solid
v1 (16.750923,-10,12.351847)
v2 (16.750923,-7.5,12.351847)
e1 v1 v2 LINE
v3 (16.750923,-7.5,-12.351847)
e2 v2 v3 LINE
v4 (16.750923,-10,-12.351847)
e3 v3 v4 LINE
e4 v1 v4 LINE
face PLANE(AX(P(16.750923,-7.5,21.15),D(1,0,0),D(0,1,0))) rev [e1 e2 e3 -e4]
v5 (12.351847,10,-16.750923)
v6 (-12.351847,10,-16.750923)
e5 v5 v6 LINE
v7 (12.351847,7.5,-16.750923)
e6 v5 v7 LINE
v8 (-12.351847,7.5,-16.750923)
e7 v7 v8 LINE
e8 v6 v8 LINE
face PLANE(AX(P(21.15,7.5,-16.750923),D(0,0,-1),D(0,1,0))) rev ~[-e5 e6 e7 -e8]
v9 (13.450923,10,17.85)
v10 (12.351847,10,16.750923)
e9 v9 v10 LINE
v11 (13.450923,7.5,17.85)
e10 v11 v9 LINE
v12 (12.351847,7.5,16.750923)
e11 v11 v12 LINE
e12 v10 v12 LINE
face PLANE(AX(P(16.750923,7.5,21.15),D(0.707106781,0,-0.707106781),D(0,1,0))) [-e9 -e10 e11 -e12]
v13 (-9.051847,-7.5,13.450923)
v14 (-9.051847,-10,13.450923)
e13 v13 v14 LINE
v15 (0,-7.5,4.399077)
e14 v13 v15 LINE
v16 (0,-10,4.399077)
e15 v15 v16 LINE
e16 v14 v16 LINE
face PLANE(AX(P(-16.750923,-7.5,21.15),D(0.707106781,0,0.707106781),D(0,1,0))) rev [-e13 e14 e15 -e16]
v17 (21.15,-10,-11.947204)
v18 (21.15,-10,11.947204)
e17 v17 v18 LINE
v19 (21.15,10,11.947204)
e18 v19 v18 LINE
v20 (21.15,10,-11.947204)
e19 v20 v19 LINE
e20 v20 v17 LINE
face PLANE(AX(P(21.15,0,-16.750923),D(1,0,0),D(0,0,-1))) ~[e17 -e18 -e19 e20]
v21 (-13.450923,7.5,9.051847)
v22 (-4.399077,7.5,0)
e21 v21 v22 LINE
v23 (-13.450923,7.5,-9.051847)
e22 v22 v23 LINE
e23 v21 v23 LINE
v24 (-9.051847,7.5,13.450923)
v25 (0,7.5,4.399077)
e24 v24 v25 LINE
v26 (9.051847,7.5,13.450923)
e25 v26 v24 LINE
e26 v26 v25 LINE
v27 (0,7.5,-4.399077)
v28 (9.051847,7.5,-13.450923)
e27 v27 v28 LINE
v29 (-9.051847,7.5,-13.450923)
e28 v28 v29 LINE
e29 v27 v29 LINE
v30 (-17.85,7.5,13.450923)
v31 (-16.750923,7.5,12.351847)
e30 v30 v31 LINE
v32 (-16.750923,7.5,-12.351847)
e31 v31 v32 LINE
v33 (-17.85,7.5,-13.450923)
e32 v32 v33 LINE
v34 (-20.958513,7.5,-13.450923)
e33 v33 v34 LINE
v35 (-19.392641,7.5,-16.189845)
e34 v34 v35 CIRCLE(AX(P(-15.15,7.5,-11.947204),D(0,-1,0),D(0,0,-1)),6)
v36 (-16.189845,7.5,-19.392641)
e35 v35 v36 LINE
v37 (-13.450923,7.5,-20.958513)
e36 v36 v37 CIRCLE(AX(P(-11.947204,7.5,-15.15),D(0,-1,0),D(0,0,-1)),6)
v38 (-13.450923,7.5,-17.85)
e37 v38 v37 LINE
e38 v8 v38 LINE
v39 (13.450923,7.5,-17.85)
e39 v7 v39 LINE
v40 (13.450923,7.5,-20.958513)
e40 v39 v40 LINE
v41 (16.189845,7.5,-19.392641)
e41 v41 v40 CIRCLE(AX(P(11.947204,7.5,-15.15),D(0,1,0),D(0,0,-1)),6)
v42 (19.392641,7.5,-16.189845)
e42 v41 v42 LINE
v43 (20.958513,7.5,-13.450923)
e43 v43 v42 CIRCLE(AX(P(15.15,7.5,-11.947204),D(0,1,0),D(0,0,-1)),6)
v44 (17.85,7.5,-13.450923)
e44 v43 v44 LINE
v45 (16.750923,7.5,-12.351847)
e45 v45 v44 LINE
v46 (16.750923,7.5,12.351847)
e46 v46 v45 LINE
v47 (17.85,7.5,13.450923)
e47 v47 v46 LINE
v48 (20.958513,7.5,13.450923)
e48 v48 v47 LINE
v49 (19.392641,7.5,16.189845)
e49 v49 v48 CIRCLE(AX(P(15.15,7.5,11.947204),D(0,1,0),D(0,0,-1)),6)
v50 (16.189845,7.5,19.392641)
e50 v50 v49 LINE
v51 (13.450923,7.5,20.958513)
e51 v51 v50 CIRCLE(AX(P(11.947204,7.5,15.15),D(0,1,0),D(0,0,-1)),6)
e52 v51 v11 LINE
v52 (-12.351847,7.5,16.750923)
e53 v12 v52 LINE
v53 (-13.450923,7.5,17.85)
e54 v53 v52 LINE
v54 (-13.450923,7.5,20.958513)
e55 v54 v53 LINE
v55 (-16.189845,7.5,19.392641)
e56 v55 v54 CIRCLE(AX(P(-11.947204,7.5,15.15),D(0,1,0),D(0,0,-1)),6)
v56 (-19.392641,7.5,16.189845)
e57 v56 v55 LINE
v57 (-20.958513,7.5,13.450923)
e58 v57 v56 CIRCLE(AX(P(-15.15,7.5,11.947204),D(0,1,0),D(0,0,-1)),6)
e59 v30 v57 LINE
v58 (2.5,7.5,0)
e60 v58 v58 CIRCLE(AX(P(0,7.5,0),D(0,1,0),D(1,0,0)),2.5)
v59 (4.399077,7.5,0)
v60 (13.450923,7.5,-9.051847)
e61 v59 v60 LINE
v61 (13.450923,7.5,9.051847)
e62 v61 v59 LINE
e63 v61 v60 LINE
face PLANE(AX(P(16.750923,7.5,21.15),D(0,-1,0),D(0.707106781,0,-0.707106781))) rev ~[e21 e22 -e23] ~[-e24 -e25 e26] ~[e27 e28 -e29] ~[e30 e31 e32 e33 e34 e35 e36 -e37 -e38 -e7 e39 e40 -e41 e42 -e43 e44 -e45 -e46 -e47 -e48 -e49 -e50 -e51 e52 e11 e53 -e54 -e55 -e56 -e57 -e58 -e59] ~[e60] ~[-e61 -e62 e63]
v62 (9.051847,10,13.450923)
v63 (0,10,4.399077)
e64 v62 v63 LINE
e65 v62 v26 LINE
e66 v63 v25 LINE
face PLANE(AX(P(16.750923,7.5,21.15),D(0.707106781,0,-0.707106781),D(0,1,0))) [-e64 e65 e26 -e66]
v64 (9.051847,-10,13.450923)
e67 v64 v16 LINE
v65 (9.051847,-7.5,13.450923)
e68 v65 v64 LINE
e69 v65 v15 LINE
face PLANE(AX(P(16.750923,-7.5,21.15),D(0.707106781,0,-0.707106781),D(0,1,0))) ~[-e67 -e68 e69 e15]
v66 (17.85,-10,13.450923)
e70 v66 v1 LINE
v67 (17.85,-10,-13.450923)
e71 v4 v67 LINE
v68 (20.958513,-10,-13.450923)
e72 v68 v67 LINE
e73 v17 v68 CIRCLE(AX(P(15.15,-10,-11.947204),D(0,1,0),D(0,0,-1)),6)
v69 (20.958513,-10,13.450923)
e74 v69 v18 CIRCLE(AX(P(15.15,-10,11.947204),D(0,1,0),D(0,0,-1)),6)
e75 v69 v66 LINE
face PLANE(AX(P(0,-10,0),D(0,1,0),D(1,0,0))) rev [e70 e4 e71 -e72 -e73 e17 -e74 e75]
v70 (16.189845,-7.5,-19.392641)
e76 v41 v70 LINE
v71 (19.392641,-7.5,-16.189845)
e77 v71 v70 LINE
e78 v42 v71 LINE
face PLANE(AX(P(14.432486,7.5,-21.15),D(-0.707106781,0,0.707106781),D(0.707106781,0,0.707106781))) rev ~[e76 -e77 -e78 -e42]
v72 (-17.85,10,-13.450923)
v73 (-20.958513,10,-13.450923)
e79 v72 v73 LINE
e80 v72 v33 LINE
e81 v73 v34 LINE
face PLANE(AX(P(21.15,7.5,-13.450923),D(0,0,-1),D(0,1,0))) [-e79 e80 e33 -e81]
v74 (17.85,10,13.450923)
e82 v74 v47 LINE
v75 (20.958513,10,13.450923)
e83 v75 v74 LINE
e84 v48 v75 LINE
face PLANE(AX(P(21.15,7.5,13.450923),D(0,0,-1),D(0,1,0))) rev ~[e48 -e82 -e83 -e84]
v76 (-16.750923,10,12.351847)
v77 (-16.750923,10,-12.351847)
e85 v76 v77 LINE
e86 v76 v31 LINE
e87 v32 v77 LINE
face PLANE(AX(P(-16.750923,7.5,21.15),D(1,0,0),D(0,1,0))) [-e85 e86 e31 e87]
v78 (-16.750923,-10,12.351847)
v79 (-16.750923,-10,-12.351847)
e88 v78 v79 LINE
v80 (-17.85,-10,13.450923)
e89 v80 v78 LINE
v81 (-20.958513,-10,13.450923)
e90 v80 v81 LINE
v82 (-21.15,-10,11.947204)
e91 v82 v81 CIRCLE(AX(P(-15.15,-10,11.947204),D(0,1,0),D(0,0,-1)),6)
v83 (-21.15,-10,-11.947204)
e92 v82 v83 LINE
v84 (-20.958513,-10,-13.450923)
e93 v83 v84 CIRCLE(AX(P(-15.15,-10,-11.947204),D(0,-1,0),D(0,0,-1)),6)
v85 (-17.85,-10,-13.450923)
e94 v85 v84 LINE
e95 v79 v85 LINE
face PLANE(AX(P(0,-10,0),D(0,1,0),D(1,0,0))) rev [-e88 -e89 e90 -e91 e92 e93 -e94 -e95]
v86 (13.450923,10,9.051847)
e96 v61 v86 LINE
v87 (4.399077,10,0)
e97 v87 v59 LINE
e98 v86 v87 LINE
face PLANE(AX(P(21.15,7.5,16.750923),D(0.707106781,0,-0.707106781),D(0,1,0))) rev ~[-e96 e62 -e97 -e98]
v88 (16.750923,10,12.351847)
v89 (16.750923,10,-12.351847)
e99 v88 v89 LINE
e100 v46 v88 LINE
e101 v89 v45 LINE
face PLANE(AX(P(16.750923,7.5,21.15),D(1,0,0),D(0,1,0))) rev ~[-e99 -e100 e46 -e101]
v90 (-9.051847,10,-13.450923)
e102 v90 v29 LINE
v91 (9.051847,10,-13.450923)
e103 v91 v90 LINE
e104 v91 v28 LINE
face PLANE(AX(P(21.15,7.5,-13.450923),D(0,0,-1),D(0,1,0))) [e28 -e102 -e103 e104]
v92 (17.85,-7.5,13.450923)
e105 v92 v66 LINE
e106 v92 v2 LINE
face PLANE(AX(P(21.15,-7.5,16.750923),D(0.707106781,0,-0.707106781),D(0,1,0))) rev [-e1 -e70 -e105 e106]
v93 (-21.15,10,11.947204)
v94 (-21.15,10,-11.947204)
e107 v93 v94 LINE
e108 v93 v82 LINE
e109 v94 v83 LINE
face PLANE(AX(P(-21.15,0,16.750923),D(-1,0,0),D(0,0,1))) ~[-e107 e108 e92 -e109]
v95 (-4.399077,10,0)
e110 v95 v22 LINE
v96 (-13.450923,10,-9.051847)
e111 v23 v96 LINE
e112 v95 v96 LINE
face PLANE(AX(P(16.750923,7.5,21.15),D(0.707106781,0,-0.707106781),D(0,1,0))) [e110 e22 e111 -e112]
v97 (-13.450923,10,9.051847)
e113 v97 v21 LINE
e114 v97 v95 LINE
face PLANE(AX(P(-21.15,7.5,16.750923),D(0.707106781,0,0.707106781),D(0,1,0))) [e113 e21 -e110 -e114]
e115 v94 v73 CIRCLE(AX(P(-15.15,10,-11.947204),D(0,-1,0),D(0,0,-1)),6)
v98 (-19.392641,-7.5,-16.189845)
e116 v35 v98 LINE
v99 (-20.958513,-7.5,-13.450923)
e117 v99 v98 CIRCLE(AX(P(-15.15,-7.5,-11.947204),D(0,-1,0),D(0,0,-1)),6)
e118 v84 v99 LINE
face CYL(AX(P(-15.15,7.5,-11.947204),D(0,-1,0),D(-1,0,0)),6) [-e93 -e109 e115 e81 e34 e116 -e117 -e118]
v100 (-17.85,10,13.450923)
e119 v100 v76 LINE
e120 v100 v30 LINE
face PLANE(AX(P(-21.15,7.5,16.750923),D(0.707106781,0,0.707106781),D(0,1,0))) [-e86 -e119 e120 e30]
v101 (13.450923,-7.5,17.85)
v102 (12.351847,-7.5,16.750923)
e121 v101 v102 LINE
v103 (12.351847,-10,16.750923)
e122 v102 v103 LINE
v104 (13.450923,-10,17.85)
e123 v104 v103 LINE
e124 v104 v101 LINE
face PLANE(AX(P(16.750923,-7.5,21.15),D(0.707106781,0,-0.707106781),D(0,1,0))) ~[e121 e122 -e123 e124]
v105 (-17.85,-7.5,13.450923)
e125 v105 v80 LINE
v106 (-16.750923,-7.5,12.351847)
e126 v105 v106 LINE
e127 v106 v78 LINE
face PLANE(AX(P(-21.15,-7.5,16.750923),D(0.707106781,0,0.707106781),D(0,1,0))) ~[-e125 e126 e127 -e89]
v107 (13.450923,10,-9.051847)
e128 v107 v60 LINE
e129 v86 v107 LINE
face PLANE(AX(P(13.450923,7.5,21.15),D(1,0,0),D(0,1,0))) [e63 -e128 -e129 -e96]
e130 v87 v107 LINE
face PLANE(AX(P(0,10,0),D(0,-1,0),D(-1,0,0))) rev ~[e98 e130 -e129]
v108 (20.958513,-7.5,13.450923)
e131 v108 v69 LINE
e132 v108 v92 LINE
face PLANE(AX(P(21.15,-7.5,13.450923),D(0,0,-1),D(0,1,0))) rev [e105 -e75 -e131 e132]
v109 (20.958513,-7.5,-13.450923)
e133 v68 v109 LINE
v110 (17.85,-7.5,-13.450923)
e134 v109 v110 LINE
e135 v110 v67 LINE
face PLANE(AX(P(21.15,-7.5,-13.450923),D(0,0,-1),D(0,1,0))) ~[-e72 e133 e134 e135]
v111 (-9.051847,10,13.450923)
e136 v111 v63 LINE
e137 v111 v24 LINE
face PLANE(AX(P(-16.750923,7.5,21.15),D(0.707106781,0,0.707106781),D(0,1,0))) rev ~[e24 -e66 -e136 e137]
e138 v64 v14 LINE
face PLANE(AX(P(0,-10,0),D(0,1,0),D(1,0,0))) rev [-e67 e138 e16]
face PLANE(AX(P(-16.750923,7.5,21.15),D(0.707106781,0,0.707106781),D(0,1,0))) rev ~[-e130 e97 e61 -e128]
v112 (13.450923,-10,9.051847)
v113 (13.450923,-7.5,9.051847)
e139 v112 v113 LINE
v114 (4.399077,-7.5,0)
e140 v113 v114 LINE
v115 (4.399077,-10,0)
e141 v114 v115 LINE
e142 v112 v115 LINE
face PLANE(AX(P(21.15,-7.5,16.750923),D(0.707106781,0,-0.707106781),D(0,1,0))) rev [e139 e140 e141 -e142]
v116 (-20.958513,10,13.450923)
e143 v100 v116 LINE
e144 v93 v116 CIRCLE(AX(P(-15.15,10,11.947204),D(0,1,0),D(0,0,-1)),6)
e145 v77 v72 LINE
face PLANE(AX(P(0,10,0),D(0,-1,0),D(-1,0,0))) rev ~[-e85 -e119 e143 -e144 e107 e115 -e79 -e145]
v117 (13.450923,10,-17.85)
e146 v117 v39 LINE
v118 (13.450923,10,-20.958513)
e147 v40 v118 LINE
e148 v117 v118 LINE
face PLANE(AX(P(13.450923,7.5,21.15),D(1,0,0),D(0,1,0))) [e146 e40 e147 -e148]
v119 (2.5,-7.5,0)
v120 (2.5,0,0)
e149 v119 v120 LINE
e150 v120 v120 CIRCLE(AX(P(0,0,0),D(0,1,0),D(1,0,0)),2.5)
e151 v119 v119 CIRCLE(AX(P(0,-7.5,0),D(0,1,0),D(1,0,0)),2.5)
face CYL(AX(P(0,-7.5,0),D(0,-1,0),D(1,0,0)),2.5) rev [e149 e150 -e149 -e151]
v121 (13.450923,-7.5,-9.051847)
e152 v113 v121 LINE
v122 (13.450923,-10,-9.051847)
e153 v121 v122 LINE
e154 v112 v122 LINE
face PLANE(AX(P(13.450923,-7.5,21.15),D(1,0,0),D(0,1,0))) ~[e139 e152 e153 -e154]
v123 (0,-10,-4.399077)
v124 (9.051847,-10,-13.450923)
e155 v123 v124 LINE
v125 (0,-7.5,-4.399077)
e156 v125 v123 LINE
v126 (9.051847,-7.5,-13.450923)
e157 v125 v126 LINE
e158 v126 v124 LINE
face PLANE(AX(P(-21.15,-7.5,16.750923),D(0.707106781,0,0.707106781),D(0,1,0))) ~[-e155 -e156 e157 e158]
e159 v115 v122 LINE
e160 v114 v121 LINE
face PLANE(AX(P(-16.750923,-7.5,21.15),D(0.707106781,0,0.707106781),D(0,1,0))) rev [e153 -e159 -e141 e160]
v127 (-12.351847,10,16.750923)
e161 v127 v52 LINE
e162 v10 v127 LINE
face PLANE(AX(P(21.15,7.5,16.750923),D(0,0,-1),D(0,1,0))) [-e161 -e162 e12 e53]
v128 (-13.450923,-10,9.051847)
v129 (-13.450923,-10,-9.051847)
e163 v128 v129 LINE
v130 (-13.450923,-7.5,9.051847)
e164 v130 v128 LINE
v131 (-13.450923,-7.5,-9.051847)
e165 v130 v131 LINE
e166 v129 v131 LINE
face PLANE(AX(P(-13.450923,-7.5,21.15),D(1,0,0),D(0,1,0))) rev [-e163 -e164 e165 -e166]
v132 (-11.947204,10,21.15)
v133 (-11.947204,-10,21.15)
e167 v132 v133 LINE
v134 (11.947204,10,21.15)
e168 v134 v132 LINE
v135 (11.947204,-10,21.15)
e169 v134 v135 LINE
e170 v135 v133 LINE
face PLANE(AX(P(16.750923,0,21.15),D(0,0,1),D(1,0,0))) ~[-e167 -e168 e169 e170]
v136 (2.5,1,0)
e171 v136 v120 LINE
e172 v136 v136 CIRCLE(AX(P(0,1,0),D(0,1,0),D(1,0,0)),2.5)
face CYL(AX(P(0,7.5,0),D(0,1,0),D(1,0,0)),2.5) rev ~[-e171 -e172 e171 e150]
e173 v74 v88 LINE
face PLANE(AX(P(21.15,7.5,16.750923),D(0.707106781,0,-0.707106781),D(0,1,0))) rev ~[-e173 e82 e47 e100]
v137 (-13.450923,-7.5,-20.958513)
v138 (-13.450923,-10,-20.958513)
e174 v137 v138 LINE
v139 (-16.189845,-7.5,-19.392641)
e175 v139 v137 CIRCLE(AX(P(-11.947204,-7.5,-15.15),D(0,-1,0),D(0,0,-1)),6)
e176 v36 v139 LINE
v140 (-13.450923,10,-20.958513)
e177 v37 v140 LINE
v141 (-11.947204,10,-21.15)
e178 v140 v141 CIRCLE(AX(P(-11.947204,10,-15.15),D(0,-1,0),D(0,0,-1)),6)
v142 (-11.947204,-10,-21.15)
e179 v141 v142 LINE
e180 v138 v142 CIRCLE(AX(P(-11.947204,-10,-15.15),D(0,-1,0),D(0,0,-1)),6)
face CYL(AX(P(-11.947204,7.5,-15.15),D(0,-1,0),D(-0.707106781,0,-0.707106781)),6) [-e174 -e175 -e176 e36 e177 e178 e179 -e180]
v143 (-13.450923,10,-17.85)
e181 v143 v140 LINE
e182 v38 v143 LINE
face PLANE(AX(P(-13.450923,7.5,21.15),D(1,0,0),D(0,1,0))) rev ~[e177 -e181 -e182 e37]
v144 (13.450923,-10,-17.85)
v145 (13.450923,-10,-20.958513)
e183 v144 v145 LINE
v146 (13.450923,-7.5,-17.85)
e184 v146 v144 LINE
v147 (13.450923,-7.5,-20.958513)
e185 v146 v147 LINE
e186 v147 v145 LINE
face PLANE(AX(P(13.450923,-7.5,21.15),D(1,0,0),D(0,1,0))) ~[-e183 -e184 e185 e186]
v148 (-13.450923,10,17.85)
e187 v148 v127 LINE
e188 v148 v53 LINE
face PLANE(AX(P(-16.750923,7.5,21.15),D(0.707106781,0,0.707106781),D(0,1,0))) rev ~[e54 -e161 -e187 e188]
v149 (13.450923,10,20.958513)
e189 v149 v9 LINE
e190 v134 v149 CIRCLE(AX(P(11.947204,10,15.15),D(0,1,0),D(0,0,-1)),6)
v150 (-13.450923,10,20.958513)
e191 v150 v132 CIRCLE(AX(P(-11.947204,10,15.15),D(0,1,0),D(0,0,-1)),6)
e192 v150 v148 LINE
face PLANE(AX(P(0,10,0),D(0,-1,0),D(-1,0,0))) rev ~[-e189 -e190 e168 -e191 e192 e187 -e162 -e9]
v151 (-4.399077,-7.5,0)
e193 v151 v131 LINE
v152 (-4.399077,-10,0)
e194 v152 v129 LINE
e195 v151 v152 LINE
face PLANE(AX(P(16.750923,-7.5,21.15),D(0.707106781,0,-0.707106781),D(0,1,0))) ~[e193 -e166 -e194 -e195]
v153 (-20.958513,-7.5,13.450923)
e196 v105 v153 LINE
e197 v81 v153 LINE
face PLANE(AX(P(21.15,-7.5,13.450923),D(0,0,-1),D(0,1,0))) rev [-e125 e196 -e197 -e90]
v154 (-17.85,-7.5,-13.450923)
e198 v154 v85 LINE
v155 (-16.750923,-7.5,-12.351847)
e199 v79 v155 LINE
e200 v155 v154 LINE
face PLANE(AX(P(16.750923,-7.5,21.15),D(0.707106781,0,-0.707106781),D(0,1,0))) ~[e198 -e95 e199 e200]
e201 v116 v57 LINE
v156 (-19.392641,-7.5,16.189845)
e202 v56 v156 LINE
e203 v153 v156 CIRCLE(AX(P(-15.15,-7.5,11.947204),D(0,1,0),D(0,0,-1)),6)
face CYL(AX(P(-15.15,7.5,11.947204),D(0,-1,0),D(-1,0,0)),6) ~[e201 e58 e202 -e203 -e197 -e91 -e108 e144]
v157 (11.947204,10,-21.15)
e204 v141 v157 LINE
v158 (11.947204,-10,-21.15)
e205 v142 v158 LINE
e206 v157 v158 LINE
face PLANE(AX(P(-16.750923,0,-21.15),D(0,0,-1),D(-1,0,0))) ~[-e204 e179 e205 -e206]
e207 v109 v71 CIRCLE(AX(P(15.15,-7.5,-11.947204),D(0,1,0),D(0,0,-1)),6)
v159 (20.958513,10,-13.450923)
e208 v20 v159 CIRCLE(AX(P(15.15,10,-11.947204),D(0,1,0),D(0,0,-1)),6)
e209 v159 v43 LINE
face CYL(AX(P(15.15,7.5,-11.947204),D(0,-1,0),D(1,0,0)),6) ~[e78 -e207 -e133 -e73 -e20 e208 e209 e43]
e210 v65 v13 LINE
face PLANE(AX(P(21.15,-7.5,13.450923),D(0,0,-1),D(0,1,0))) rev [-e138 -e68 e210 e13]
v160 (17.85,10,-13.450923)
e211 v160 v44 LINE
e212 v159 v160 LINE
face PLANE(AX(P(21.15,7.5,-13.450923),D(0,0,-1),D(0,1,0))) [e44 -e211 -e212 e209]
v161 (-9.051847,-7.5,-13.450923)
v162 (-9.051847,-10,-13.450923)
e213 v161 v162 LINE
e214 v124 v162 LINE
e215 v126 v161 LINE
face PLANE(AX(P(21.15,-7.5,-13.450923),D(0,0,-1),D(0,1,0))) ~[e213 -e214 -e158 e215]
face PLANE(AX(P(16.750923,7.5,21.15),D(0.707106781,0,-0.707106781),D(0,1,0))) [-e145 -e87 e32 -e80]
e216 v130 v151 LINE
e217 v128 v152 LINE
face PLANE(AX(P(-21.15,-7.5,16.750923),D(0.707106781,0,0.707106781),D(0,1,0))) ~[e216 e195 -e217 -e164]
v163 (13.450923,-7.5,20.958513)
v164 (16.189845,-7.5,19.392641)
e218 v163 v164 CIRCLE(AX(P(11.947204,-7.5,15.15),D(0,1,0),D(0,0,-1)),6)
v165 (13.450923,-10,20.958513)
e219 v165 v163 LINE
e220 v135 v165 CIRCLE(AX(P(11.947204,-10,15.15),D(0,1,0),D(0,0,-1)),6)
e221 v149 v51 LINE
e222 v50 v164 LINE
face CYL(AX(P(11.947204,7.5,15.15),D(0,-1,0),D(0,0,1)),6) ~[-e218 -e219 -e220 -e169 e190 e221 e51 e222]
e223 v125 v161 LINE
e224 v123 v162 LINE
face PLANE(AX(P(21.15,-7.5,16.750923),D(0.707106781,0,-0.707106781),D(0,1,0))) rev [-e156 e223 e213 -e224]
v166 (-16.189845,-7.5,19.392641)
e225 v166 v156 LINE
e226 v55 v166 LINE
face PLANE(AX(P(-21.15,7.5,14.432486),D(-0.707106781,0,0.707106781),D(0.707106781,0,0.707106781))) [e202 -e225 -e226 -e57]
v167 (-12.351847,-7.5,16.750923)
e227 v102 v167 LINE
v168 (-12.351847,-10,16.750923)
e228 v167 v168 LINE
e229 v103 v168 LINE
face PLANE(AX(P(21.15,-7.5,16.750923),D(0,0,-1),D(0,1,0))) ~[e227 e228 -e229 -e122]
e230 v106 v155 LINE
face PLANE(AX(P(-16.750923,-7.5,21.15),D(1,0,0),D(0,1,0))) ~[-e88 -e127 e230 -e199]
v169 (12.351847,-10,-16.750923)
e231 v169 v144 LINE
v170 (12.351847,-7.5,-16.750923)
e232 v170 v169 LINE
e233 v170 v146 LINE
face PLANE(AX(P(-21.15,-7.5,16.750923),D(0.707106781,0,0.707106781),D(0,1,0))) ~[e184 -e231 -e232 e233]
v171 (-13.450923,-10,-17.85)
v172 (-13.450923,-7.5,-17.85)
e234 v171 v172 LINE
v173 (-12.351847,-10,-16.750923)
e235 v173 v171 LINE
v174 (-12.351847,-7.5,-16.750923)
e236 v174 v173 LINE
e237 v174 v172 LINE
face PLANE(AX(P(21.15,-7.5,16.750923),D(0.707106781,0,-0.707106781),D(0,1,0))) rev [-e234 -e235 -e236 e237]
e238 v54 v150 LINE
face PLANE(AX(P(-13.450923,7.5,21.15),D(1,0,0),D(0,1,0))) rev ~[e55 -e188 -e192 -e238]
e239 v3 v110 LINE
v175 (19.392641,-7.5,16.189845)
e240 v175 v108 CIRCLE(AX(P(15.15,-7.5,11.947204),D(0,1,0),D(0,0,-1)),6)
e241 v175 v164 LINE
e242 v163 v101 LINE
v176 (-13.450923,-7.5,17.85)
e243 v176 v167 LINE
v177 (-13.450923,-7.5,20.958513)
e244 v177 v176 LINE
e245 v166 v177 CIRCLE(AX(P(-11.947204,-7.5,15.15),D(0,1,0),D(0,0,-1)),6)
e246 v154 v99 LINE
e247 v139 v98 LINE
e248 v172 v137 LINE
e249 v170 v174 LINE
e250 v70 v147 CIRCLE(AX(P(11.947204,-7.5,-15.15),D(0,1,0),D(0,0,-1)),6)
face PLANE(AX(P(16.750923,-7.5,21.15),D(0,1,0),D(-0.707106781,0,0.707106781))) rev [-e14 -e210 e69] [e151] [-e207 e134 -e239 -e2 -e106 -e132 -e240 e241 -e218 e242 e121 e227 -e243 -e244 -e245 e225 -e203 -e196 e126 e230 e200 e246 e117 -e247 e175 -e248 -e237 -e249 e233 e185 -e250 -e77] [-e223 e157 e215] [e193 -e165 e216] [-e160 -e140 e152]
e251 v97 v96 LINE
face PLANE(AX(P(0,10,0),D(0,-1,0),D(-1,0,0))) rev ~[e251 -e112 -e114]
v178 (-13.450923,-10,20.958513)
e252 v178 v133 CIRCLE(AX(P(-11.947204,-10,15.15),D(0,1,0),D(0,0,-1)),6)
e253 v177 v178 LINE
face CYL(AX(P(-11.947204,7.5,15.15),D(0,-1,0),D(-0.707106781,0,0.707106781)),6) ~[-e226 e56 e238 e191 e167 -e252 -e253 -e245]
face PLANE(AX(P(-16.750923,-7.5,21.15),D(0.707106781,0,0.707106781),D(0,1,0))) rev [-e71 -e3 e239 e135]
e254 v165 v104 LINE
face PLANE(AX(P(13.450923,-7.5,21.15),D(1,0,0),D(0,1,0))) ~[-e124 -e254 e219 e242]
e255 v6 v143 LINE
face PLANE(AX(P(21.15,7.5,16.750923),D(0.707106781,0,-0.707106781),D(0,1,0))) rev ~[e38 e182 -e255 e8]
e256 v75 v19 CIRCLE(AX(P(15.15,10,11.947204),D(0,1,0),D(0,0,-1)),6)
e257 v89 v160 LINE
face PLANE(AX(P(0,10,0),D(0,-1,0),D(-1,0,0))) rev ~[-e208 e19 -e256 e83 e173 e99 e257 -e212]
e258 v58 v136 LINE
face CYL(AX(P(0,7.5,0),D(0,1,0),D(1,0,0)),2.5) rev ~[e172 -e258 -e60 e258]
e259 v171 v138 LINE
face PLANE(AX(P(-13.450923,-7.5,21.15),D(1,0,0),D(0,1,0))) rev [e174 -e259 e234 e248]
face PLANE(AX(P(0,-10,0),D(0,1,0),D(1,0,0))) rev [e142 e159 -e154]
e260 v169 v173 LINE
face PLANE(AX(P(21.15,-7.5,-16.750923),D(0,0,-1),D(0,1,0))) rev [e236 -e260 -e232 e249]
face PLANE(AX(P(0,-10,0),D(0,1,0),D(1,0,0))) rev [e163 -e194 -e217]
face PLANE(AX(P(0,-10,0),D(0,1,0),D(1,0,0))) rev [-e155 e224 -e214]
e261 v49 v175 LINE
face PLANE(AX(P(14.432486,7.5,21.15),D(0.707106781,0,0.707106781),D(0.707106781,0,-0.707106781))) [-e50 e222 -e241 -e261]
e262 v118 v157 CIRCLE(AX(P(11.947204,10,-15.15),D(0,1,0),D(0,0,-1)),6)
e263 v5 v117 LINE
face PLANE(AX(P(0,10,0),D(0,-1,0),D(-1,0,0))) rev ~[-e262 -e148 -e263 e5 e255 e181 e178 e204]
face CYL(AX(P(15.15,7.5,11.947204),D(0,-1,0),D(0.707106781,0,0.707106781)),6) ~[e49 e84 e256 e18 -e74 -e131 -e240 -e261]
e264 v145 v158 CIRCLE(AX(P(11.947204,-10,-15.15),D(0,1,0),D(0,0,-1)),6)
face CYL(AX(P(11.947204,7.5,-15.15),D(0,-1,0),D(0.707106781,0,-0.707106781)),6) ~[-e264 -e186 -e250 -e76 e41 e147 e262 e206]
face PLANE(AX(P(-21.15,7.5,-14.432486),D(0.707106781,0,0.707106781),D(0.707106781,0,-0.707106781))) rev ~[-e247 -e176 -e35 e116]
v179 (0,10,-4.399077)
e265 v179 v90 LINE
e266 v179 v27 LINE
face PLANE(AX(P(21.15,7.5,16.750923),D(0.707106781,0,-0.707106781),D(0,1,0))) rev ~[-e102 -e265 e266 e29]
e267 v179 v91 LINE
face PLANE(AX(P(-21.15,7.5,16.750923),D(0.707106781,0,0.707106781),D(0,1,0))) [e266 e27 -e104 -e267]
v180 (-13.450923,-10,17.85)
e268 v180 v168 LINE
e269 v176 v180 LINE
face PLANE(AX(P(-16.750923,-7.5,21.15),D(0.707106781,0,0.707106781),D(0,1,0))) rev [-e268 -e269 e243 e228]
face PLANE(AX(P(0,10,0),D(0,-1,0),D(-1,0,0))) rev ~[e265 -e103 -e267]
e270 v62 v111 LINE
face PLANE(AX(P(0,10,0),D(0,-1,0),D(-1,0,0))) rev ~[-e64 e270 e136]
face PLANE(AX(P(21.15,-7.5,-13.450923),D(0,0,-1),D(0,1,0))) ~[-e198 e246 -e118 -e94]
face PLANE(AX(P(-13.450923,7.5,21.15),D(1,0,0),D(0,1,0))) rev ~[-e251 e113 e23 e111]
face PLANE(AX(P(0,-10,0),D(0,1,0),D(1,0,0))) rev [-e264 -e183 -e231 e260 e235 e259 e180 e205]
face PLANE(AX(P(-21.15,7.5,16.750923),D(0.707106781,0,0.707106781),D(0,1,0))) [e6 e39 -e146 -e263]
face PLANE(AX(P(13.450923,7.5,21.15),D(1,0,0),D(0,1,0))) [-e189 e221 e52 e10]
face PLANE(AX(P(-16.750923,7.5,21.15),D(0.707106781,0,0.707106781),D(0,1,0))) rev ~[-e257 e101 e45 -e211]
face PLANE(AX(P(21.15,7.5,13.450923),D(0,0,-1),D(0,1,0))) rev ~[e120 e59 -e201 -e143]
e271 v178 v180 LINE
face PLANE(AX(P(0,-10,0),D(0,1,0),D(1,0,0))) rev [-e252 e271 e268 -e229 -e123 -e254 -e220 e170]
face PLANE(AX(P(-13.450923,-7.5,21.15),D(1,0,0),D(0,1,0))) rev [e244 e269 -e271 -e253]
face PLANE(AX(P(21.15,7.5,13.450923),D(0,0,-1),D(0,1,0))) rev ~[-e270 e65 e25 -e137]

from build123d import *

# Parameters (mm, degrees)
BOSS_EXTRUDE1_DEPTH = 10
SKETCH18_W          = 3.3
SKETCH18_H          = 2.5
CUT_EXTRUDE10_DEPTH = 43.3
SKETCH19_W          = 3.3
SKETCH19_H          = 2.5
CUT_EXTRUDE11_DEPTH = 43.3
SKETCH20_W          = 6.221233688
SKETCH20_H          = 2.5
CUT_EXTRUDE12_DEPTH = 57.710616844
SKETCH21_W          = 6.221233688
SKETCH21_H          = 2.5
CUT_EXTRUDE13_DEPTH = 57.710616844
SKETCH22_R          = 2.5
CUT_EXTRUDE14_DEPTH = 8.5
CUT_EXTRUDE15_DEPTH = 18.5
FILLET8_R           = 6


with BuildPart() as part:
    # Sketch1 → Boss-Extrude1 (new body)
    with BuildSketch(Plane(origin=(0, 0, 0), x_dir=(1, 0, 0), z_dir=(0, 1, 0))):
        Polygon((-21.15, 16.750923472), (-16.750923472, 21.15), (16.750923472, 21.15), (21.15, 16.750923472), (21.15, -16.750923472), (16.750923472, -21.15), (-16.750923472, -21.15), (-21.15, -16.750923472), align=None)
    boss_extrude1 = extrude(amount=BOSS_EXTRUDE1_DEPTH)

    # Sketch18 → Cut-Extrude10 (cut, through all)
    with BuildSketch(Plane.XY.offset(21.15)):
        with Locations((15.100923472, 8.75)):
            Rectangle(SKETCH18_W, SKETCH18_H)
        with Locations((-15.100923472, 8.75)):
            Rectangle(SKETCH18_W, SKETCH18_H)
    cut_extrude10 = extrude(amount=-CUT_EXTRUDE10_DEPTH, mode=Mode.SUBTRACT)

    # Sketch19 → Cut-Extrude11 (cut, through all)
    with BuildSketch(Plane(origin=(21.15, 0, 0), x_dir=(0, 0, -1), z_dir=(1, 0, 0))):
        with Locations((-15.100923472, 8.75)):
            Rectangle(SKETCH19_W, SKETCH19_H)
        with Locations((15.100923472, 8.75)):
            Rectangle(SKETCH19_W, SKETCH19_H)
    cut_extrude11 = extrude(amount=-CUT_EXTRUDE11_DEPTH, mode=Mode.SUBTRACT)

    # Sketch20 → Cut-Extrude12 (cut, through all)
    with BuildSketch(Plane(origin=(18.950461736, 0, 18.950461736), x_dir=(0.707106781, 0, -0.707106781), z_dir=(0.707106781, 0, 0.707106781))):
        with Locations((0, 8.75)):
            Rectangle(SKETCH20_W, SKETCH20_H)
    cut_extrude12 = extrude(amount=-CUT_EXTRUDE12_DEPTH, mode=Mode.SUBTRACT)

    # Sketch21 → Cut-Extrude13 (cut, through all)
    with BuildSketch(Plane(origin=(-18.950461736, 0, 18.950461736), x_dir=(0.707106781, 0, 0.707106781), z_dir=(-0.707106781, 0, 0.707106781))):
        with Locations((0, 8.75)):
            Rectangle(SKETCH21_W, SKETCH21_H)
    cut_extrude13 = extrude(amount=-CUT_EXTRUDE13_DEPTH, mode=Mode.SUBTRACT)

    # Sketch22 → Cut-Extrude14 (cut, through all)
    with BuildSketch(Plane(origin=(0, 7.5, 0), x_dir=(1, 0, 0), z_dir=(0, 1, 0))):
        Circle(SKETCH22_R)
    cut_extrude14 = extrude(amount=-CUT_EXTRUDE14_DEPTH, mode=Mode.SUBTRACT)

    # Mirror1: Boss-Extrude1, Cut-Extrude10, Cut-Extrude11, Cut-Extrude12, Cut-Extrude13, Cut-Extrude14 across plane
    add(boss_extrude1.mirror(Plane(origin=(0, 0, 0), x_dir=(0, 0, 1), z_dir=(0, -1, 0))))
    add(cut_extrude10.mirror(Plane(origin=(0, 0, 0), x_dir=(0, 0, 1), z_dir=(0, -1, 0))), mode=Mode.SUBTRACT)
    add(cut_extrude11.mirror(Plane(origin=(0, 0, 0), x_dir=(0, 0, 1), z_dir=(0, -1, 0))), mode=Mode.SUBTRACT)
    add(cut_extrude12.mirror(Plane(origin=(0, 0, 0), x_dir=(0, 0, 1), z_dir=(0, -1, 0))), mode=Mode.SUBTRACT)
    add(cut_extrude13.mirror(Plane(origin=(0, 0, 0), x_dir=(0, 0, 1), z_dir=(0, -1, 0))), mode=Mode.SUBTRACT)
    add(cut_extrude14.mirror(Plane(origin=(0, 0, 0), x_dir=(0, 0, 1), z_dir=(0, -1, 0))), mode=Mode.SUBTRACT)

    # Sketch23 → Cut-Extrude15 (cut, through all)
    with BuildSketch(Plane(origin=(0, 7.5, 0), x_dir=(1, 0, 0), z_dir=(0, 1, 0))):
        Polygon((-21.15, -14.432485579), (-14.432485579, -21.15), (-16.750923472, -21.15), (-21.15, -16.750923472), align=None)
        Polygon((-21.15, 14.432485579), (-14.432485579, 21.15), (-16.750923472, 21.15), (-21.15, 16.750923472), align=None)
        Polygon((14.432485579, 21.15), (21.15, 14.432485579), (21.15, 16.750923472), (16.750923472, 21.15), align=None)
        Polygon((14.432485579, -21.15), (21.15, -14.432485579), (21.15, -16.750923472), (16.750923472, -21.15), align=None)
    extrude(amount=-CUT_EXTRUDE15_DEPTH, mode=Mode.SUBTRACT)

    # Fillet8
    fillet8_edges = [part.edges().sort_by_distance(p)[0] for p in [
        (14.432485579, 0, -21.15),
        (21.15, 0, -14.432485579),
        (-21.15, 0, -14.432485579),
        (-14.432485579, 0, -21.15),
        (-14.432485579, 0, 21.15),
        (-21.15, 0, 14.432485579),
        (21.15, 0, 14.432485579),
        (14.432485579, 0, 21.15),
    ]]
    fillet(fillet8_edges, radius=FILLET8_R)


solid = part.part
